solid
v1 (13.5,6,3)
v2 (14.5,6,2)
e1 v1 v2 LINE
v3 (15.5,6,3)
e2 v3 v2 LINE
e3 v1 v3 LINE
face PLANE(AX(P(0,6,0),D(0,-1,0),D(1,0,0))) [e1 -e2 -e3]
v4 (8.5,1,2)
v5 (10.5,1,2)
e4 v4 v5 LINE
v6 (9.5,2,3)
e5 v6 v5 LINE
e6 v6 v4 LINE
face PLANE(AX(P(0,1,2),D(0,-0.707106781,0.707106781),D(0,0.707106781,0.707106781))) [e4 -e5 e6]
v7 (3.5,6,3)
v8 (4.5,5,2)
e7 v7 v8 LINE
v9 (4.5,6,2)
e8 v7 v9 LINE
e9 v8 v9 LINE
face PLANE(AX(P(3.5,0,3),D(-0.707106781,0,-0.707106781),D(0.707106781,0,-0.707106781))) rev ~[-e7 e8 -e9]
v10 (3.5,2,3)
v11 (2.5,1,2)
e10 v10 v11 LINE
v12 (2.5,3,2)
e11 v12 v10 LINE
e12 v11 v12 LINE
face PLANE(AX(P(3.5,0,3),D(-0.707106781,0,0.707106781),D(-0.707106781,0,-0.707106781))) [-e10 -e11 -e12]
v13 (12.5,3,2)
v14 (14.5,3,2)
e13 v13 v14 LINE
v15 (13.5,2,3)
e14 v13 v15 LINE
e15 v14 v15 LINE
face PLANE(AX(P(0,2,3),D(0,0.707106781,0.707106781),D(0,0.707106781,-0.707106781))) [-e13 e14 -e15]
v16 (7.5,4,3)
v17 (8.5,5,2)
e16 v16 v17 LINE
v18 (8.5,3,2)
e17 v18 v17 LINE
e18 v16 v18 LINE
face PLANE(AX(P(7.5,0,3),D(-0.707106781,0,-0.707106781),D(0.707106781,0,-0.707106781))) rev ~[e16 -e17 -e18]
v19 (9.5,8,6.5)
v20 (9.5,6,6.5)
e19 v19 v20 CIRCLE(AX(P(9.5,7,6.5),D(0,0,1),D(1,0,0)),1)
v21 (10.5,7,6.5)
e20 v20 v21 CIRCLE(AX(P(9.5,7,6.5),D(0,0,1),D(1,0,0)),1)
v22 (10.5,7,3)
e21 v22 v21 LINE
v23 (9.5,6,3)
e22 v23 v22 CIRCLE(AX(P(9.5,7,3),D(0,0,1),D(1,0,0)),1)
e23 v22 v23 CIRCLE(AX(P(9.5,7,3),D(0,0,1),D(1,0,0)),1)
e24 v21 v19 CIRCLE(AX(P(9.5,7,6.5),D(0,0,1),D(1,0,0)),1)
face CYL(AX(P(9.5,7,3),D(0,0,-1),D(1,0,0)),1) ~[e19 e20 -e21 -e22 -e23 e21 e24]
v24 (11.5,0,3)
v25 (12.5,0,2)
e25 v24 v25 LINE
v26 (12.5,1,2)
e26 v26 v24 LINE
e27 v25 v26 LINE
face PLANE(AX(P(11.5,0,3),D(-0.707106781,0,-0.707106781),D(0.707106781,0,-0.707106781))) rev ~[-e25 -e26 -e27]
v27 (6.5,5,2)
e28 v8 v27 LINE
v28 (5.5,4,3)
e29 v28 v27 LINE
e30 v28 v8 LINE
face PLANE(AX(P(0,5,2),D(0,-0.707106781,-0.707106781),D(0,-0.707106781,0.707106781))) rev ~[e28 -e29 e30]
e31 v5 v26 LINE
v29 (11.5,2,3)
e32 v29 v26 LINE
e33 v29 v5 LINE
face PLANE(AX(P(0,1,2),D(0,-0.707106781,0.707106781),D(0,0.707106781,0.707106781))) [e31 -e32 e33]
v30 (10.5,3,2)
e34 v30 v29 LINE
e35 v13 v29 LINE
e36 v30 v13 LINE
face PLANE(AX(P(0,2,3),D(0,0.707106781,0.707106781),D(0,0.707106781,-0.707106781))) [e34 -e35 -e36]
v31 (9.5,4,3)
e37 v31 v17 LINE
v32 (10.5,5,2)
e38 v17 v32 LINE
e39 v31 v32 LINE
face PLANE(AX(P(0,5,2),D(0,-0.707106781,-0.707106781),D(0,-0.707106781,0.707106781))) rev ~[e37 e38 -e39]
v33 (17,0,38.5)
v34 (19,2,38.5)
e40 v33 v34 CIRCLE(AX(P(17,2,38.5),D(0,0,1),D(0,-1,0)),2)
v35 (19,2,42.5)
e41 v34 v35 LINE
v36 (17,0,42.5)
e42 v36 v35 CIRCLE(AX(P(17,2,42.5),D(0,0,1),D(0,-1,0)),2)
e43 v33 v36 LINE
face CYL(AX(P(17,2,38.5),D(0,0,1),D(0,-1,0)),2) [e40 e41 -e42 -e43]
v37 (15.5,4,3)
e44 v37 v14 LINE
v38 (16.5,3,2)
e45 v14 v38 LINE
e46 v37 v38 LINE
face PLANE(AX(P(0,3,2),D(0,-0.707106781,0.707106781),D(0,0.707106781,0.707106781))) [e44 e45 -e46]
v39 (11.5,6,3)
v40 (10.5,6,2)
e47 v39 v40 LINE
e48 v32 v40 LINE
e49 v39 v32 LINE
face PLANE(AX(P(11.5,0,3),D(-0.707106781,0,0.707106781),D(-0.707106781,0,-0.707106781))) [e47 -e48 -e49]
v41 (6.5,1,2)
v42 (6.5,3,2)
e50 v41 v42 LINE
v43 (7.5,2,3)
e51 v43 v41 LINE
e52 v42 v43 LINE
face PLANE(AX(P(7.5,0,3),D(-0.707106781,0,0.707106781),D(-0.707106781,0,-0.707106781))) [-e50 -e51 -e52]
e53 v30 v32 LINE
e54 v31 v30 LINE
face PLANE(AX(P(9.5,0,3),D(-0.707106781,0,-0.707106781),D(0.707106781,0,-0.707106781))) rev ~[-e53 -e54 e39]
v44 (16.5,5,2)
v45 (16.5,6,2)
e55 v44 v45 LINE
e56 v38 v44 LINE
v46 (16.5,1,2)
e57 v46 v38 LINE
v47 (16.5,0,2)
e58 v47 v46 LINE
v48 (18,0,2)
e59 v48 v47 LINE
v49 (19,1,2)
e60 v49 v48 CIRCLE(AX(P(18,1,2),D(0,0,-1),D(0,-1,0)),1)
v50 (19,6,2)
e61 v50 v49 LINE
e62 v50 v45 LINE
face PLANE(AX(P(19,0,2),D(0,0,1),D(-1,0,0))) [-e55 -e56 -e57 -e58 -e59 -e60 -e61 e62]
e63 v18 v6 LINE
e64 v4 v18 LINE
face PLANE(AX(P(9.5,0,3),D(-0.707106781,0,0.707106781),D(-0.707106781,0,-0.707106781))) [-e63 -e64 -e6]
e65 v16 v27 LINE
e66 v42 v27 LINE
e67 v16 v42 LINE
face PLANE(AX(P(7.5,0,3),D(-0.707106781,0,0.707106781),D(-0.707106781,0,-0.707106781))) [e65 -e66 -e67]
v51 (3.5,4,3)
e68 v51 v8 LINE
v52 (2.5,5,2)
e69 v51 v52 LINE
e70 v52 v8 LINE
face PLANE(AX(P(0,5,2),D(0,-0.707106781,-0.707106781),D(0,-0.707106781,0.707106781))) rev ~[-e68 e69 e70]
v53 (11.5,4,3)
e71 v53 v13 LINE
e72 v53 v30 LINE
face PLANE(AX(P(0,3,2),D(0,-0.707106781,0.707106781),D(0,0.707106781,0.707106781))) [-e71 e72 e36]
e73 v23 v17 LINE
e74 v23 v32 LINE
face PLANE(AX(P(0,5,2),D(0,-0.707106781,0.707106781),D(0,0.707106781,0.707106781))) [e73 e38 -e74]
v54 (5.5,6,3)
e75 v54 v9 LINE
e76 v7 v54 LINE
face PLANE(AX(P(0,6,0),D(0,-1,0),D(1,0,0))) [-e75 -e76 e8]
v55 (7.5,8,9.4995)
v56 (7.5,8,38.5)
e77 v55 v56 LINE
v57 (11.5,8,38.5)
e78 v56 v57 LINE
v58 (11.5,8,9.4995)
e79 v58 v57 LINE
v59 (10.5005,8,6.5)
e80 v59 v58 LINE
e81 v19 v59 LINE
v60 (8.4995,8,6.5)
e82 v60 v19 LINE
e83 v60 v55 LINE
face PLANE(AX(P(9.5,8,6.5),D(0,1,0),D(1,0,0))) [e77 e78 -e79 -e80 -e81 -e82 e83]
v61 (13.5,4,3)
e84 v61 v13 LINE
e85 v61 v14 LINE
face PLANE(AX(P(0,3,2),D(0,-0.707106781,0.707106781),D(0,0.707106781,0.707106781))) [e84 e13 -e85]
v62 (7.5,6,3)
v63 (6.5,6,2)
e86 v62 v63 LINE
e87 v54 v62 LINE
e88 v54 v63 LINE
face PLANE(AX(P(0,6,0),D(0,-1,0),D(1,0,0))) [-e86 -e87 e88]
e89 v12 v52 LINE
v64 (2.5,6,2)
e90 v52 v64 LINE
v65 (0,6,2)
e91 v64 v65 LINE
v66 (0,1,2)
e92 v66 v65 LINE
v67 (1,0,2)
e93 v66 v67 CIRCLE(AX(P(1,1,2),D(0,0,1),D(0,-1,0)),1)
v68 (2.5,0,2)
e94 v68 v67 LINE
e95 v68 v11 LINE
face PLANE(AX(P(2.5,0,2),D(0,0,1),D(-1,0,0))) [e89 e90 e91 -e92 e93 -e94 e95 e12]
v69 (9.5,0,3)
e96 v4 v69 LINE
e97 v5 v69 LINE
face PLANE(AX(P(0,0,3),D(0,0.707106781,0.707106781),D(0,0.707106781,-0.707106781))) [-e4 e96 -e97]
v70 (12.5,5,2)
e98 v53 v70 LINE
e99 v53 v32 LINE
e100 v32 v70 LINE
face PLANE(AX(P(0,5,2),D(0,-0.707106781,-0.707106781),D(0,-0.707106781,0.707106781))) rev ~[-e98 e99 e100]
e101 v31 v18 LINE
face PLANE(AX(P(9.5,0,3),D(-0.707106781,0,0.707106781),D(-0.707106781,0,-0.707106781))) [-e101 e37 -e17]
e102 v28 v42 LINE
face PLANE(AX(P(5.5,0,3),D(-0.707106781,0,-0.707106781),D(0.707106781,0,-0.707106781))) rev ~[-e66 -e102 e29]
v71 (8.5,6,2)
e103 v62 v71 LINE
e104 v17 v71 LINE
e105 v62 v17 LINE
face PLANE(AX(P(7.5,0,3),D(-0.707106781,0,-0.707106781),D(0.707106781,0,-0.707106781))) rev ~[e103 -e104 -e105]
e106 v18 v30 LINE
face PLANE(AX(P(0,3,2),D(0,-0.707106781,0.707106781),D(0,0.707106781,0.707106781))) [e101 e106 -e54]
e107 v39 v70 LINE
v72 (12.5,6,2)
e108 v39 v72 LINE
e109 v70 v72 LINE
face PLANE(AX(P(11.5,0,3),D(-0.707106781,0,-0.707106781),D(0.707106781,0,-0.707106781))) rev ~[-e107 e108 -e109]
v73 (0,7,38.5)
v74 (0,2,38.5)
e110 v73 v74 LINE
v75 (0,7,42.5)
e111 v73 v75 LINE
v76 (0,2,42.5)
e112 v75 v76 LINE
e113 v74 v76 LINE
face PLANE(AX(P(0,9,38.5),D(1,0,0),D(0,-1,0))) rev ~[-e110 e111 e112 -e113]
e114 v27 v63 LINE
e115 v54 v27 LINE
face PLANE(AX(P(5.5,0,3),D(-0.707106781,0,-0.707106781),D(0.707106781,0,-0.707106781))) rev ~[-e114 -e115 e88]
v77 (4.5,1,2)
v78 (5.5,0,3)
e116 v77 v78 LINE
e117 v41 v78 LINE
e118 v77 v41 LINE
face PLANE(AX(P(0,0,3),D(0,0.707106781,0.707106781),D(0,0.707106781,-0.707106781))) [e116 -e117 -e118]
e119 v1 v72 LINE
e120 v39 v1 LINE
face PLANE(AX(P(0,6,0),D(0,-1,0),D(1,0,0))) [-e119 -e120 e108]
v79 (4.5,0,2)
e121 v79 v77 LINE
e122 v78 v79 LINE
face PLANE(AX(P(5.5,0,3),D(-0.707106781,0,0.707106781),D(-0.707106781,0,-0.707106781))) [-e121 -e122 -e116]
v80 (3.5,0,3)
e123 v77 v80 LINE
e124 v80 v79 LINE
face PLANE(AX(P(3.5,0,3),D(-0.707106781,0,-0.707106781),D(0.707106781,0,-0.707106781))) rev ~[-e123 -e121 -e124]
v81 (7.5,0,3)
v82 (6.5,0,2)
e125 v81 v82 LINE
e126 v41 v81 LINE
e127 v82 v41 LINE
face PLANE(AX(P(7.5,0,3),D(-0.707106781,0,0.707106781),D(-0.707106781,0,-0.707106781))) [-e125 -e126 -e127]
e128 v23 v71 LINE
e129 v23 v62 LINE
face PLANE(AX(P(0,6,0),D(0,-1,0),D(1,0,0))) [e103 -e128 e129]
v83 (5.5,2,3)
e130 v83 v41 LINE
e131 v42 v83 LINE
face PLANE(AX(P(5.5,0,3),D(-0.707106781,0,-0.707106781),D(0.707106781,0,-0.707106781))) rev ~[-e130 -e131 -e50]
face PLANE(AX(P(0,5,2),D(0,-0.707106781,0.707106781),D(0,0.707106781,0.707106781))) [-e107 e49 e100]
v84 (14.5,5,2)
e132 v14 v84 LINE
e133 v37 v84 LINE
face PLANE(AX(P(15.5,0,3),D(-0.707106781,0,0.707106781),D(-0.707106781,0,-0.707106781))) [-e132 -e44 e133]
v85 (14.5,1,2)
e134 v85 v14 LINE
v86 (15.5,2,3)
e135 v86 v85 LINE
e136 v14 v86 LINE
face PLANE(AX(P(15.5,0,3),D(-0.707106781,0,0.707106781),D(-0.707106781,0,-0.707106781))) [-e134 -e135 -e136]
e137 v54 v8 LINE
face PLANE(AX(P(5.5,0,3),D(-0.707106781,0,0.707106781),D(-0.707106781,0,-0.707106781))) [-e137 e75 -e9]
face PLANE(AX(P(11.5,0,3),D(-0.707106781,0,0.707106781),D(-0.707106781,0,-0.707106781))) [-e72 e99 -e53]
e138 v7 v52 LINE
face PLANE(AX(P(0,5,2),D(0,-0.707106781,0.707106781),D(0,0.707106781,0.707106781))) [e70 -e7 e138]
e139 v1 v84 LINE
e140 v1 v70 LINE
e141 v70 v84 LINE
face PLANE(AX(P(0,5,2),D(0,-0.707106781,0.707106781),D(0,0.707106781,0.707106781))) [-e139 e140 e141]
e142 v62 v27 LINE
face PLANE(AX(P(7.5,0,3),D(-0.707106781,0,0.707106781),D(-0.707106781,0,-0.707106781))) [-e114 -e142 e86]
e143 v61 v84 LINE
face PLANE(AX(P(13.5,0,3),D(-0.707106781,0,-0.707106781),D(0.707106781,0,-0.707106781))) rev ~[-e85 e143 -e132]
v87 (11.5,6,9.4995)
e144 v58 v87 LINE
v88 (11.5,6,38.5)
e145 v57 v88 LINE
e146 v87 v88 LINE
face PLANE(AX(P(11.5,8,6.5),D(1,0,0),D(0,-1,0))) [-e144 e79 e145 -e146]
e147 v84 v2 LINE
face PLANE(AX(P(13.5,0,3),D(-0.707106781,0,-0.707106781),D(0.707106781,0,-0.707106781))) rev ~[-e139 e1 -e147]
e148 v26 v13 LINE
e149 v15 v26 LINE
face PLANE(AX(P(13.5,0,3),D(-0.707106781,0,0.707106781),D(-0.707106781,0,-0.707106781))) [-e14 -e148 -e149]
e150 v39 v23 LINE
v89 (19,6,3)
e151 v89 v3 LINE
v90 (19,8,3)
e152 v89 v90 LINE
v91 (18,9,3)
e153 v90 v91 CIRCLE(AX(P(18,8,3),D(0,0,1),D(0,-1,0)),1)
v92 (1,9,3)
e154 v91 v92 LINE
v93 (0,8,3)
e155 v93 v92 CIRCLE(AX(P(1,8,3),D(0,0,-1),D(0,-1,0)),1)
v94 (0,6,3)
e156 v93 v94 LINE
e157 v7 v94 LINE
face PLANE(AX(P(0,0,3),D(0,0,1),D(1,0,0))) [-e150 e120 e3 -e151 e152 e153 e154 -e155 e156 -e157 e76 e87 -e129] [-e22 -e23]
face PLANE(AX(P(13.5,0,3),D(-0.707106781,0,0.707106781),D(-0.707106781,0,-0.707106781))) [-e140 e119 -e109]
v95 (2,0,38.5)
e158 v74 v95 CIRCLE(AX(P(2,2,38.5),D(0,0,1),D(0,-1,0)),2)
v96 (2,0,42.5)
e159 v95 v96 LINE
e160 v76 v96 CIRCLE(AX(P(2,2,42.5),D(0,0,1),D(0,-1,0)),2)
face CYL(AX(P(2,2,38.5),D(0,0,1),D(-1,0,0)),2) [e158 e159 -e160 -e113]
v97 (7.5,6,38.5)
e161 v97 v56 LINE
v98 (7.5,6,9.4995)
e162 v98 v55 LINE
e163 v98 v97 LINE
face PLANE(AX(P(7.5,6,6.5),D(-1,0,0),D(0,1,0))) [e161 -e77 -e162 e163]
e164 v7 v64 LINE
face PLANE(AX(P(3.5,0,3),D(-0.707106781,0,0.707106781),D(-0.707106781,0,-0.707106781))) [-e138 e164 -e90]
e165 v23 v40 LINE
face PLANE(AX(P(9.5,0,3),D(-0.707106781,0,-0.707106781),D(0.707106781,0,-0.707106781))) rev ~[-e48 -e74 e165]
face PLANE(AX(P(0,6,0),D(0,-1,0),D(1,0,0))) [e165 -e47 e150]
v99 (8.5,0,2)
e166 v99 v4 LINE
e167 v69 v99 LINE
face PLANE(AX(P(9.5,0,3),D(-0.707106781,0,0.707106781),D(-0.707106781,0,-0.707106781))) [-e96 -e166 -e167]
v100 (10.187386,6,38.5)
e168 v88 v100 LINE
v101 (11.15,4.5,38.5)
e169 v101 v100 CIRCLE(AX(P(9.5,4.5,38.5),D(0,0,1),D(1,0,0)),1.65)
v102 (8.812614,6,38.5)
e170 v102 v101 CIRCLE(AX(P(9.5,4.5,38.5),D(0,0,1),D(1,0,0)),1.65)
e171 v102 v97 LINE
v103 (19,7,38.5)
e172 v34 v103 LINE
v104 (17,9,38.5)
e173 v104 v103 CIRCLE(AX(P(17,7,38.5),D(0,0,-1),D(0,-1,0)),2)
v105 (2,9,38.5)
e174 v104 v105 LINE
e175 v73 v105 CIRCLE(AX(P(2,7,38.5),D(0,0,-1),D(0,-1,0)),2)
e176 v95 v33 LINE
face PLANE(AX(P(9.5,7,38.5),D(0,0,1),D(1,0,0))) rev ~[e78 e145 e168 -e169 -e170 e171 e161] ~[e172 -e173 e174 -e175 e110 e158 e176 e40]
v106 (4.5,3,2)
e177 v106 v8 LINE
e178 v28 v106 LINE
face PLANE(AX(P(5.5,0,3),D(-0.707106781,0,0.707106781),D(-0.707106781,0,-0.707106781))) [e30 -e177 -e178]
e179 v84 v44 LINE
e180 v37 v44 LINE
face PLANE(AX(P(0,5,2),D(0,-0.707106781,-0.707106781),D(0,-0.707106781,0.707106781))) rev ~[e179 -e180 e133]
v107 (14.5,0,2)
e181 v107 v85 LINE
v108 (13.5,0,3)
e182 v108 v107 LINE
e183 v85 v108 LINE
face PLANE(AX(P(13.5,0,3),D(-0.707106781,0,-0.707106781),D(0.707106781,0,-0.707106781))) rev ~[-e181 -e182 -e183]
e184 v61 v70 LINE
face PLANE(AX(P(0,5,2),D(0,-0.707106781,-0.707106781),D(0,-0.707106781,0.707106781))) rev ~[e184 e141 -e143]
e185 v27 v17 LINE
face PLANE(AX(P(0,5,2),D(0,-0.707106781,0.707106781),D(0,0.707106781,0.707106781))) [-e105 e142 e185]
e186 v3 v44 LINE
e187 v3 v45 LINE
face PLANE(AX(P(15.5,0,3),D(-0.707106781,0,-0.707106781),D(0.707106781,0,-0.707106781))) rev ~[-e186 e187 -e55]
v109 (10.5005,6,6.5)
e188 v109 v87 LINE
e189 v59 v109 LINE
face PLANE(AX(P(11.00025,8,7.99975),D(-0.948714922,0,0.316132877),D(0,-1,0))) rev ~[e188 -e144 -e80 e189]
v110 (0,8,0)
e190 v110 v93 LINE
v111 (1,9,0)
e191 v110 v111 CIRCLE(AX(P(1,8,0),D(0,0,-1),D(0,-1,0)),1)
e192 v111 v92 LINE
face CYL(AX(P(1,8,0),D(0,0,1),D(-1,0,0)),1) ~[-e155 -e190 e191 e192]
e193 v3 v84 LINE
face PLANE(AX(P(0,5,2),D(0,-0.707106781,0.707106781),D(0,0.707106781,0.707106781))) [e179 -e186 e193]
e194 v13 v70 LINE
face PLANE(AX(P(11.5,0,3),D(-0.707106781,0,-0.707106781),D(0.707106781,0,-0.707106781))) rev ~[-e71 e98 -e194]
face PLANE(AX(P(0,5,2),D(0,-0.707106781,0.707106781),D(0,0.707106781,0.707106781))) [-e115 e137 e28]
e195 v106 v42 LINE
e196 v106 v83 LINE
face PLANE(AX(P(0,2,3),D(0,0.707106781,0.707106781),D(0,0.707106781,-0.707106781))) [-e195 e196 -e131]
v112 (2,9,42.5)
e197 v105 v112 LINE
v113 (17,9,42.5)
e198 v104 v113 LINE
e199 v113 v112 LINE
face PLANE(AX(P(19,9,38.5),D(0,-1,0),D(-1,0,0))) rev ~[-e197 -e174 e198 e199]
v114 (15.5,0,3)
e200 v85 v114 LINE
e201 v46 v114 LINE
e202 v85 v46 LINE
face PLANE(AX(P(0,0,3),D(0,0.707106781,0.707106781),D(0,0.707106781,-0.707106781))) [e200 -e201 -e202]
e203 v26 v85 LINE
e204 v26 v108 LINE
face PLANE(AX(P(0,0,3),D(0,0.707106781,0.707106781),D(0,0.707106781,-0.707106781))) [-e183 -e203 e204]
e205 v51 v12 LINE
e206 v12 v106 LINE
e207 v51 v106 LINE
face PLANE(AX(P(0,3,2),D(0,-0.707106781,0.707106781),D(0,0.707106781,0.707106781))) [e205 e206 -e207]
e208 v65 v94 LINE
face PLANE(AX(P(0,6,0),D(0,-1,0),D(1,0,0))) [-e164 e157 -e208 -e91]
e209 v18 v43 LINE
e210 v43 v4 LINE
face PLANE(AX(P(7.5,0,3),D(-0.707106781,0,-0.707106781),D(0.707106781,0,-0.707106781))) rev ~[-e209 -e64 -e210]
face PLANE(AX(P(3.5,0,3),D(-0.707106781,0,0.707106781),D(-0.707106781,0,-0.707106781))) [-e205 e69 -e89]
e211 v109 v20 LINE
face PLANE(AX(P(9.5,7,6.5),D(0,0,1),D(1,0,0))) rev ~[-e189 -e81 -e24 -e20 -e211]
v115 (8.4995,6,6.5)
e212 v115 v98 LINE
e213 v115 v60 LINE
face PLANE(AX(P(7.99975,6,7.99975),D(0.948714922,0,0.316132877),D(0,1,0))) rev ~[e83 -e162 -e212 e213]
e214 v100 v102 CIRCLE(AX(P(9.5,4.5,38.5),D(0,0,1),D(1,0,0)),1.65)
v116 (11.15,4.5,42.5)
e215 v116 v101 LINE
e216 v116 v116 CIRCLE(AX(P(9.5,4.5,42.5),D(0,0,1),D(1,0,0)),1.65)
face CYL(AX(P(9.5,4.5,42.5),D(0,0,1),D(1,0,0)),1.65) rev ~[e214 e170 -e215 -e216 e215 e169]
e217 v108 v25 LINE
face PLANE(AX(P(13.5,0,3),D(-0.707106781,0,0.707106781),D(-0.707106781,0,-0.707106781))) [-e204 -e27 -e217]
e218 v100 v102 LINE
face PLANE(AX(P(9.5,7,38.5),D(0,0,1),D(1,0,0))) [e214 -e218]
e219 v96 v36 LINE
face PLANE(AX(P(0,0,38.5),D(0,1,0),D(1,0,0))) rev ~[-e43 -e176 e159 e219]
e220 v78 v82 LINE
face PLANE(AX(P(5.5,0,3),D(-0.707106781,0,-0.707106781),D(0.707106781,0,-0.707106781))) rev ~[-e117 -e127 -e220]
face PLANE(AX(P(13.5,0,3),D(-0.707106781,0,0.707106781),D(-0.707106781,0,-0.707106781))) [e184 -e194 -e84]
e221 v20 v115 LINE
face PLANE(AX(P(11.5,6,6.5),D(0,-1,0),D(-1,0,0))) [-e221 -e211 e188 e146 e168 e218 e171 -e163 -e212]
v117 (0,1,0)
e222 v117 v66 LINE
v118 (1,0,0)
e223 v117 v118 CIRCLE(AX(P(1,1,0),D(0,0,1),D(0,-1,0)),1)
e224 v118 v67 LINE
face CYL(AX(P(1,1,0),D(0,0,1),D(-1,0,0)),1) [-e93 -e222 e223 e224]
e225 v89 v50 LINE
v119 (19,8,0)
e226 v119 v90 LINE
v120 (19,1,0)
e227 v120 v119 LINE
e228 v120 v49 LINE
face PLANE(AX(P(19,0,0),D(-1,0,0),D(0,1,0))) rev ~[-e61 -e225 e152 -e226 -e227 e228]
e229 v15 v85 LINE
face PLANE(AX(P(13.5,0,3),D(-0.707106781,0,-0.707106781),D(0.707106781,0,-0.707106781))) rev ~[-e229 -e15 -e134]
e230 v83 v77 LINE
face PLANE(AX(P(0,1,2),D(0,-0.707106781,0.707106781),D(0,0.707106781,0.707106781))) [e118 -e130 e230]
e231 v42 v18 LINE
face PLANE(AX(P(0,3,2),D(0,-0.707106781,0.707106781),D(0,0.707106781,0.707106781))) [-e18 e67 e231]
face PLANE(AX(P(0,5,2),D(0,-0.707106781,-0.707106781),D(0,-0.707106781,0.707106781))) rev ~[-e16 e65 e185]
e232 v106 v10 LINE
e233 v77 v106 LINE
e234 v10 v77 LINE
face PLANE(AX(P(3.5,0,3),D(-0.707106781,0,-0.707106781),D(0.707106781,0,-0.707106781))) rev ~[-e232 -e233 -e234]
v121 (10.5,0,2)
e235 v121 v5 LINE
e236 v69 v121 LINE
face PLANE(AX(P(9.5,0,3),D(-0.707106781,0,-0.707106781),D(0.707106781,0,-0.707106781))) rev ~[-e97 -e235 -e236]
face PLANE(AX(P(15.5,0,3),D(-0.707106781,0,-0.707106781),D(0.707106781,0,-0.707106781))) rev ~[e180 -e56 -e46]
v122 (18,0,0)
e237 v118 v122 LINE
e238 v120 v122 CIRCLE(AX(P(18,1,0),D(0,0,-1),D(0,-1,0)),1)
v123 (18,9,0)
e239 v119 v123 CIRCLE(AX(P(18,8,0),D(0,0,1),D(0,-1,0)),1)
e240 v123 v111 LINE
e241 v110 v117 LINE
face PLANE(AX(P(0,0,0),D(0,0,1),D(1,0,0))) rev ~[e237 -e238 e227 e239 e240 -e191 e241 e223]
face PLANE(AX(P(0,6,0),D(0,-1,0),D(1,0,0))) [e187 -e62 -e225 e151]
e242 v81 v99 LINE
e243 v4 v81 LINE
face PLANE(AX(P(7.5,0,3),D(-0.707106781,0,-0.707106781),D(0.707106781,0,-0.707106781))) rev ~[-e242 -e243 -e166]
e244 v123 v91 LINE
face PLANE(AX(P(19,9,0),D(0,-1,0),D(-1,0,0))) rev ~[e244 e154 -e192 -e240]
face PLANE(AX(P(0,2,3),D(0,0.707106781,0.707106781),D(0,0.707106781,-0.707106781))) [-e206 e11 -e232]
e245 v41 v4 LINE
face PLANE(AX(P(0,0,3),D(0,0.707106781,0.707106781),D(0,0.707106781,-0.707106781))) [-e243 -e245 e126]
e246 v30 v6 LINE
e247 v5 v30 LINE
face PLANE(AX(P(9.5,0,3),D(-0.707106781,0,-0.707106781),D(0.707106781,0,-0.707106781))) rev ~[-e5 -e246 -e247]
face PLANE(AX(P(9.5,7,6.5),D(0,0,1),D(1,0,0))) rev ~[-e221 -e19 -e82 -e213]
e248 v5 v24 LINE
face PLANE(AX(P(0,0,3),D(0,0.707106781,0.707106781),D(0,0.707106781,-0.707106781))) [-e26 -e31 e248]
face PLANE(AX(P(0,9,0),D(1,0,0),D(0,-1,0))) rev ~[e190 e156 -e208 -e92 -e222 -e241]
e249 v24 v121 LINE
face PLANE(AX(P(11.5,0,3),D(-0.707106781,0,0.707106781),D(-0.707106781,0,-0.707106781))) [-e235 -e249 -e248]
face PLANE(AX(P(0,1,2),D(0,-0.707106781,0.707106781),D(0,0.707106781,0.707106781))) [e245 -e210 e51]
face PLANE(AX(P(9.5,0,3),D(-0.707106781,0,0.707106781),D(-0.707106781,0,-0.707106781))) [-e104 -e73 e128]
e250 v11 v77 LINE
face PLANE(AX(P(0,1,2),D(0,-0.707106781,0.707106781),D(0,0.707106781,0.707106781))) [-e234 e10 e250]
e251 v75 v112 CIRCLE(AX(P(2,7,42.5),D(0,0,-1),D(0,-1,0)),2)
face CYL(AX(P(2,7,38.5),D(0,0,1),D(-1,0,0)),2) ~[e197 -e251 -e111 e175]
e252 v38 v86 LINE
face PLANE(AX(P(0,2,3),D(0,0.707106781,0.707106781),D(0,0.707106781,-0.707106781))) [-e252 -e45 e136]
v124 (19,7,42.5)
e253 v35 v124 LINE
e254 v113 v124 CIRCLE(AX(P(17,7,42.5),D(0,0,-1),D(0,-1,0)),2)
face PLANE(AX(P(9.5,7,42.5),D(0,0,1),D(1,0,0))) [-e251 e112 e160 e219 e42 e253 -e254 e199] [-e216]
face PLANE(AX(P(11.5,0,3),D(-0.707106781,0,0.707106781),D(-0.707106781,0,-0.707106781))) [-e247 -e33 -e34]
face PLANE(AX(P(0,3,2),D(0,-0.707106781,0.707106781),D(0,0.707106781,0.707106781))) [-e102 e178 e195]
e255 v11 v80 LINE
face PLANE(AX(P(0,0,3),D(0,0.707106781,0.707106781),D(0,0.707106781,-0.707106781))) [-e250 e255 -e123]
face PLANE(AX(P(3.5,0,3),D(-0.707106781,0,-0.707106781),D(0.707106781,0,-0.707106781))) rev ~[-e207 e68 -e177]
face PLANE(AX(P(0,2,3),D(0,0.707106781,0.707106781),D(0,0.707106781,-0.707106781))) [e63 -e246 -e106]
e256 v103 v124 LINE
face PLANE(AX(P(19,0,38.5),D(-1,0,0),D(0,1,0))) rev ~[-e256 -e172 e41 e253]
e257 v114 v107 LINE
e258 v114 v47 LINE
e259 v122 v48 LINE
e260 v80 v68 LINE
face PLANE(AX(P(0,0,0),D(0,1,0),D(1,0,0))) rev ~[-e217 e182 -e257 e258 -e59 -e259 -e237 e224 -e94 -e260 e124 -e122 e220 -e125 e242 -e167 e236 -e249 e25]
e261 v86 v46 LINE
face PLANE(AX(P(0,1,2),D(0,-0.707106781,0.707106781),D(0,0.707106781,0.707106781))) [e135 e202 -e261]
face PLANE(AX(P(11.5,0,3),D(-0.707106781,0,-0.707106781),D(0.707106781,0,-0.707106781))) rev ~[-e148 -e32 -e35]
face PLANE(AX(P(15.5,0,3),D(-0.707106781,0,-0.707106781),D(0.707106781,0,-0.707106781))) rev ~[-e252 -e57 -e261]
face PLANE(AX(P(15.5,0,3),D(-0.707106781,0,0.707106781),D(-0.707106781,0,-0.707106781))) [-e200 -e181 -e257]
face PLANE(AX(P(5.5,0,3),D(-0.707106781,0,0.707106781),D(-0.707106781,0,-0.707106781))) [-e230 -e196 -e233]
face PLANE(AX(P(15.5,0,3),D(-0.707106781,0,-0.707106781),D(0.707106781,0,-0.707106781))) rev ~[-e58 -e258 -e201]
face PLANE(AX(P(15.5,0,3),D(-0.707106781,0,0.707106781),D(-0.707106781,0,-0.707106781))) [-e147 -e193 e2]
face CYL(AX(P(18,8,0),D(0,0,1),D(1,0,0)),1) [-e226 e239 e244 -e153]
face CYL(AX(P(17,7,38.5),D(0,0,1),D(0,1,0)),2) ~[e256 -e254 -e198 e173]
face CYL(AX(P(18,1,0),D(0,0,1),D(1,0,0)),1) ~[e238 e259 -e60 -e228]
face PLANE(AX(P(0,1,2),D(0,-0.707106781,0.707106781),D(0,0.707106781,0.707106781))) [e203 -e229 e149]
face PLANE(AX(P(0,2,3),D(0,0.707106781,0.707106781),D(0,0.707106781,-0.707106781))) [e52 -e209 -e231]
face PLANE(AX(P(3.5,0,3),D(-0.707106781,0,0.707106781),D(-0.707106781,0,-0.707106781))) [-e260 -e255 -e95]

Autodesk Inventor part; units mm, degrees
ref_plane "YZ Plane" through (0, 0, 0) normal (1, 0, 0) x (0, 1, 0)
ref_plane "XZ Plane" through (0, 0, 0) normal (0, 1, 0) x (-1, 0, 0)
ref_plane "XY Plane" through (0, 0, 0) normal (0, 0, 1) x (1, 0, 0)
sketch "Sketch1" plane through (0, 0, 0) normal (0, 0, 1) x (1, 0, 0)
  line L0 (0, 0) -> (19, 0)
  line L1 (19, 0) -> (19, 9)
  line L2 (19, 9) -> (0, 9)
  line L3 (0, 9) -> (0, 0)
  point P0 (9.5, 9)
  dimension "d0" = 19
  dimension "d1" = 9
extrude "Extrusion1" add sketch "Sketch1" along normal blind 3
sketch "Sketch2" plane through (0, 0, 3) normal (0, 0, 1) x (1, 0, 0)
  line L0 (19, 9) -> (0, 9) projected
  circle A0 centre (9.5, 7) radius 1
  point P0 (0, 0)
  point P1 (9.5, 9)
  dimension "d4" = 2
  dimension "d5" = 2
extrude "Extrusion2" add sketch "Sketch2" along normal blind 3.5
sketch "Sketch6" plane through (9.5, 7, 6.5) normal (0, 0, 1) x (1, 0, 0)
  circle A0 centre (0, 0) radius 1 projected
  line L0 (2, -1) -> (-2, -1)
  line L1 (-2, -1) -> (-2, 1)
  line L2 (-2, 1) -> (2, 1)
  line L3 (2, 1) -> (2, -1)
  line L4 (2, -1) -> (-2, 1) construction
  line L5 (-2, -1) -> (2, 1) construction
  point P0 (-9.5, -7)
  dimension "d13" = 4
extrude "Extrusion5" add sketch "Sketch6" along normal blind 32
sketch "Sketch7" plane through (9.5, 7, 38.5) normal (0, 0, 1) x (1, 0, 0)
  circle A0 centre (0, 0) radius 1 projected
  line L0 (-9.5, -7) -> (9.5, -7) projected
  line L1 (9.5, -7) -> (9.5, 2) projected
  line L2 (9.5, 2) -> (-9.5, 2) projected
  line L3 (-9.5, 2) -> (-9.5, -7) projected
  arc A1 (0, -1) -> (0, 1) centre (0, 0) ccw projected
  arc A2 (0, 1) -> (0, -1) centre (0, 0) ccw projected
extrude "Extrusion6" add sketch "Sketch7" along normal blind 4 contours A0 | L3 L2 L1 L0
sketch "Sketch8" plane through (9.5, 7, 42.5) normal (0, 0, 1) x (1, 0, 0)
  line L0 (-9.5, -7) -> (9.5, -7) projected
  line L1 (9.5, -7) -> (9.5, 2) projected
  line L2 (9.5, 2) -> (-9.5, 2) projected
  line L3 (-9.5, 2) -> (-9.5, -7) projected
  circle A0 centre (0, -2.5) radius 1.65
  dimension "d18" = 3.3
extrude "Extrusion7" cut sketch "Sketch8" against normal blind 4 contours A0
sketch "Sketch10" plane through (0, 0, 0) normal (-1, 0, 0) x (0, 0, 1)
  line L0 (0, 0) -> (3, 0) projected
  line L1 (3, 9) -> (3, 0) projected
  line L2 (3, 0) -> (2, 0)
  line L3 (2, 0) -> (2, 6)
  line L4 (2, 6) -> (3, 6)
  line L5 (3, 6) -> (3, 0)
  line L6 (3, 0) -> (2, 1)
  line L7 (3, 0) -> (4.4142, 0) construction
  line L8 (2, 1) -> (3, 2)
  line L9 (3, 0) -> (3, 9) projected
  line L10 (3, 2) -> (2, 3)
  line L11 (2, 3) -> (3, 4)
  line L12 (2, 5) -> (3, 4)
  line L13 (2, 5) -> (3, 6)
  dimension "d23" = 1
  dimension "d24" = 6
  dimension "d25" = 135
  dimension "d26" = 90
extrude "Extrusion8" cut sketch "Sketch10" against normal up to next contours L6 L8 L1 | L10 L11 L1 | L12 L13 L1
sketch "Sketch11" plane through (0, 0, 0) normal (0, -1, 0) x (1, 0, 0)
  line L0 (0, 3) -> (9.5, 3) projected
  line L1 (0, 3) -> (19, 3)
  line L2 (19, 3) -> (19, 2)
  line L3 (19, 2) -> (8.5, 2)
  line L4 (0, 2) -> (0, 3)
  line L5 (0, 3) -> (0, 2) projected
  line L6 (0, 3) -> (1.4142, 3) construction
  line L7 (19, 3) -> (0, 3) projected
  line L8 (9.5, 3) -> (8.5, 2)
  line L9 (9.5, 3) -> (10.9142, 3) construction
  line L10 (10.5, 2) -> (8.5, 2)
  line L11 (9.5, 3) -> (10.5, 2)
  line L12 (10.5, 2) -> (8.5, 2)
  line L13 (8.5, 2) -> (0, 2)
  line L14 (7.5, 3) -> (8.5, 2)
  line L15 (8.5, 2) -> (6.5, 2)
  line L16 (7.5, 3) -> (6.5, 2)
  line L17 (5.5, 3) -> (6.5, 2)
  line L18 (6.5, 2) -> (4.5, 2)
  line L19 (5.5, 3) -> (4.5, 2)
  line L20 (3.5, 3) -> (4.5, 2)
  line L21 (4.5, 2) -> (2.5, 2)
  line L22 (3.5, 3) -> (2.5, 2)
  line L23 (12.5, 2) -> (10.5, 2)
  line L24 (11.5, 3) -> (12.5, 2)
  line L25 (11.5, 3) -> (10.5, 2)
  line L26 (14.5, 2) -> (12.5, 2)
  line L27 (13.5, 3) -> (14.5, 2)
  line L28 (13.5, 3) -> (12.5, 2)
  line L29 (16.5, 2) -> (14.5, 2)
  line L30 (15.5, 3) -> (16.5, 2)
  line L31 (15.5, 3) -> (14.5, 2)
  point P0 (0, 0)
  dimension "d30" = 135
  dimension "d33" = 2
  dimension "d40" = 2
extrude "Extrusion9" cut sketch "Sketch11" against normal blind 6 contours L0 L22 L13 L4 | L0 L19 L20 | L0 L16 L17 | L0 L8 L14 | L1 L25 L11 | L1 L28 L24 | L1 L31 L27 | L1 L2 L3 L30
fillet "Fillet2" radius 1 4 edges at (19, 0, 1) (19, 9, 1.5) (0, 0, 1) (0, 9, 1.5)
fillet "Fillet3" radius 2 4 edges at (19, 0, 40.5) (19, 9, 40.5) (0, 0, 40.5) (0, 9, 40.5)
chamfer "Chamfer1" distance 1 distance2 3 1 edges at (7.5, 7, 6.5) measured on face at (7.8358, 6.9598, 6.5)
chamfer "Chamfer2" distance 1 distance2 3 1 edges at (11.5, 7, 6.5) measured on face at (11.1667, 7, 6.5)
properties part number "gravity-clamp-base9x19mm-part1"
